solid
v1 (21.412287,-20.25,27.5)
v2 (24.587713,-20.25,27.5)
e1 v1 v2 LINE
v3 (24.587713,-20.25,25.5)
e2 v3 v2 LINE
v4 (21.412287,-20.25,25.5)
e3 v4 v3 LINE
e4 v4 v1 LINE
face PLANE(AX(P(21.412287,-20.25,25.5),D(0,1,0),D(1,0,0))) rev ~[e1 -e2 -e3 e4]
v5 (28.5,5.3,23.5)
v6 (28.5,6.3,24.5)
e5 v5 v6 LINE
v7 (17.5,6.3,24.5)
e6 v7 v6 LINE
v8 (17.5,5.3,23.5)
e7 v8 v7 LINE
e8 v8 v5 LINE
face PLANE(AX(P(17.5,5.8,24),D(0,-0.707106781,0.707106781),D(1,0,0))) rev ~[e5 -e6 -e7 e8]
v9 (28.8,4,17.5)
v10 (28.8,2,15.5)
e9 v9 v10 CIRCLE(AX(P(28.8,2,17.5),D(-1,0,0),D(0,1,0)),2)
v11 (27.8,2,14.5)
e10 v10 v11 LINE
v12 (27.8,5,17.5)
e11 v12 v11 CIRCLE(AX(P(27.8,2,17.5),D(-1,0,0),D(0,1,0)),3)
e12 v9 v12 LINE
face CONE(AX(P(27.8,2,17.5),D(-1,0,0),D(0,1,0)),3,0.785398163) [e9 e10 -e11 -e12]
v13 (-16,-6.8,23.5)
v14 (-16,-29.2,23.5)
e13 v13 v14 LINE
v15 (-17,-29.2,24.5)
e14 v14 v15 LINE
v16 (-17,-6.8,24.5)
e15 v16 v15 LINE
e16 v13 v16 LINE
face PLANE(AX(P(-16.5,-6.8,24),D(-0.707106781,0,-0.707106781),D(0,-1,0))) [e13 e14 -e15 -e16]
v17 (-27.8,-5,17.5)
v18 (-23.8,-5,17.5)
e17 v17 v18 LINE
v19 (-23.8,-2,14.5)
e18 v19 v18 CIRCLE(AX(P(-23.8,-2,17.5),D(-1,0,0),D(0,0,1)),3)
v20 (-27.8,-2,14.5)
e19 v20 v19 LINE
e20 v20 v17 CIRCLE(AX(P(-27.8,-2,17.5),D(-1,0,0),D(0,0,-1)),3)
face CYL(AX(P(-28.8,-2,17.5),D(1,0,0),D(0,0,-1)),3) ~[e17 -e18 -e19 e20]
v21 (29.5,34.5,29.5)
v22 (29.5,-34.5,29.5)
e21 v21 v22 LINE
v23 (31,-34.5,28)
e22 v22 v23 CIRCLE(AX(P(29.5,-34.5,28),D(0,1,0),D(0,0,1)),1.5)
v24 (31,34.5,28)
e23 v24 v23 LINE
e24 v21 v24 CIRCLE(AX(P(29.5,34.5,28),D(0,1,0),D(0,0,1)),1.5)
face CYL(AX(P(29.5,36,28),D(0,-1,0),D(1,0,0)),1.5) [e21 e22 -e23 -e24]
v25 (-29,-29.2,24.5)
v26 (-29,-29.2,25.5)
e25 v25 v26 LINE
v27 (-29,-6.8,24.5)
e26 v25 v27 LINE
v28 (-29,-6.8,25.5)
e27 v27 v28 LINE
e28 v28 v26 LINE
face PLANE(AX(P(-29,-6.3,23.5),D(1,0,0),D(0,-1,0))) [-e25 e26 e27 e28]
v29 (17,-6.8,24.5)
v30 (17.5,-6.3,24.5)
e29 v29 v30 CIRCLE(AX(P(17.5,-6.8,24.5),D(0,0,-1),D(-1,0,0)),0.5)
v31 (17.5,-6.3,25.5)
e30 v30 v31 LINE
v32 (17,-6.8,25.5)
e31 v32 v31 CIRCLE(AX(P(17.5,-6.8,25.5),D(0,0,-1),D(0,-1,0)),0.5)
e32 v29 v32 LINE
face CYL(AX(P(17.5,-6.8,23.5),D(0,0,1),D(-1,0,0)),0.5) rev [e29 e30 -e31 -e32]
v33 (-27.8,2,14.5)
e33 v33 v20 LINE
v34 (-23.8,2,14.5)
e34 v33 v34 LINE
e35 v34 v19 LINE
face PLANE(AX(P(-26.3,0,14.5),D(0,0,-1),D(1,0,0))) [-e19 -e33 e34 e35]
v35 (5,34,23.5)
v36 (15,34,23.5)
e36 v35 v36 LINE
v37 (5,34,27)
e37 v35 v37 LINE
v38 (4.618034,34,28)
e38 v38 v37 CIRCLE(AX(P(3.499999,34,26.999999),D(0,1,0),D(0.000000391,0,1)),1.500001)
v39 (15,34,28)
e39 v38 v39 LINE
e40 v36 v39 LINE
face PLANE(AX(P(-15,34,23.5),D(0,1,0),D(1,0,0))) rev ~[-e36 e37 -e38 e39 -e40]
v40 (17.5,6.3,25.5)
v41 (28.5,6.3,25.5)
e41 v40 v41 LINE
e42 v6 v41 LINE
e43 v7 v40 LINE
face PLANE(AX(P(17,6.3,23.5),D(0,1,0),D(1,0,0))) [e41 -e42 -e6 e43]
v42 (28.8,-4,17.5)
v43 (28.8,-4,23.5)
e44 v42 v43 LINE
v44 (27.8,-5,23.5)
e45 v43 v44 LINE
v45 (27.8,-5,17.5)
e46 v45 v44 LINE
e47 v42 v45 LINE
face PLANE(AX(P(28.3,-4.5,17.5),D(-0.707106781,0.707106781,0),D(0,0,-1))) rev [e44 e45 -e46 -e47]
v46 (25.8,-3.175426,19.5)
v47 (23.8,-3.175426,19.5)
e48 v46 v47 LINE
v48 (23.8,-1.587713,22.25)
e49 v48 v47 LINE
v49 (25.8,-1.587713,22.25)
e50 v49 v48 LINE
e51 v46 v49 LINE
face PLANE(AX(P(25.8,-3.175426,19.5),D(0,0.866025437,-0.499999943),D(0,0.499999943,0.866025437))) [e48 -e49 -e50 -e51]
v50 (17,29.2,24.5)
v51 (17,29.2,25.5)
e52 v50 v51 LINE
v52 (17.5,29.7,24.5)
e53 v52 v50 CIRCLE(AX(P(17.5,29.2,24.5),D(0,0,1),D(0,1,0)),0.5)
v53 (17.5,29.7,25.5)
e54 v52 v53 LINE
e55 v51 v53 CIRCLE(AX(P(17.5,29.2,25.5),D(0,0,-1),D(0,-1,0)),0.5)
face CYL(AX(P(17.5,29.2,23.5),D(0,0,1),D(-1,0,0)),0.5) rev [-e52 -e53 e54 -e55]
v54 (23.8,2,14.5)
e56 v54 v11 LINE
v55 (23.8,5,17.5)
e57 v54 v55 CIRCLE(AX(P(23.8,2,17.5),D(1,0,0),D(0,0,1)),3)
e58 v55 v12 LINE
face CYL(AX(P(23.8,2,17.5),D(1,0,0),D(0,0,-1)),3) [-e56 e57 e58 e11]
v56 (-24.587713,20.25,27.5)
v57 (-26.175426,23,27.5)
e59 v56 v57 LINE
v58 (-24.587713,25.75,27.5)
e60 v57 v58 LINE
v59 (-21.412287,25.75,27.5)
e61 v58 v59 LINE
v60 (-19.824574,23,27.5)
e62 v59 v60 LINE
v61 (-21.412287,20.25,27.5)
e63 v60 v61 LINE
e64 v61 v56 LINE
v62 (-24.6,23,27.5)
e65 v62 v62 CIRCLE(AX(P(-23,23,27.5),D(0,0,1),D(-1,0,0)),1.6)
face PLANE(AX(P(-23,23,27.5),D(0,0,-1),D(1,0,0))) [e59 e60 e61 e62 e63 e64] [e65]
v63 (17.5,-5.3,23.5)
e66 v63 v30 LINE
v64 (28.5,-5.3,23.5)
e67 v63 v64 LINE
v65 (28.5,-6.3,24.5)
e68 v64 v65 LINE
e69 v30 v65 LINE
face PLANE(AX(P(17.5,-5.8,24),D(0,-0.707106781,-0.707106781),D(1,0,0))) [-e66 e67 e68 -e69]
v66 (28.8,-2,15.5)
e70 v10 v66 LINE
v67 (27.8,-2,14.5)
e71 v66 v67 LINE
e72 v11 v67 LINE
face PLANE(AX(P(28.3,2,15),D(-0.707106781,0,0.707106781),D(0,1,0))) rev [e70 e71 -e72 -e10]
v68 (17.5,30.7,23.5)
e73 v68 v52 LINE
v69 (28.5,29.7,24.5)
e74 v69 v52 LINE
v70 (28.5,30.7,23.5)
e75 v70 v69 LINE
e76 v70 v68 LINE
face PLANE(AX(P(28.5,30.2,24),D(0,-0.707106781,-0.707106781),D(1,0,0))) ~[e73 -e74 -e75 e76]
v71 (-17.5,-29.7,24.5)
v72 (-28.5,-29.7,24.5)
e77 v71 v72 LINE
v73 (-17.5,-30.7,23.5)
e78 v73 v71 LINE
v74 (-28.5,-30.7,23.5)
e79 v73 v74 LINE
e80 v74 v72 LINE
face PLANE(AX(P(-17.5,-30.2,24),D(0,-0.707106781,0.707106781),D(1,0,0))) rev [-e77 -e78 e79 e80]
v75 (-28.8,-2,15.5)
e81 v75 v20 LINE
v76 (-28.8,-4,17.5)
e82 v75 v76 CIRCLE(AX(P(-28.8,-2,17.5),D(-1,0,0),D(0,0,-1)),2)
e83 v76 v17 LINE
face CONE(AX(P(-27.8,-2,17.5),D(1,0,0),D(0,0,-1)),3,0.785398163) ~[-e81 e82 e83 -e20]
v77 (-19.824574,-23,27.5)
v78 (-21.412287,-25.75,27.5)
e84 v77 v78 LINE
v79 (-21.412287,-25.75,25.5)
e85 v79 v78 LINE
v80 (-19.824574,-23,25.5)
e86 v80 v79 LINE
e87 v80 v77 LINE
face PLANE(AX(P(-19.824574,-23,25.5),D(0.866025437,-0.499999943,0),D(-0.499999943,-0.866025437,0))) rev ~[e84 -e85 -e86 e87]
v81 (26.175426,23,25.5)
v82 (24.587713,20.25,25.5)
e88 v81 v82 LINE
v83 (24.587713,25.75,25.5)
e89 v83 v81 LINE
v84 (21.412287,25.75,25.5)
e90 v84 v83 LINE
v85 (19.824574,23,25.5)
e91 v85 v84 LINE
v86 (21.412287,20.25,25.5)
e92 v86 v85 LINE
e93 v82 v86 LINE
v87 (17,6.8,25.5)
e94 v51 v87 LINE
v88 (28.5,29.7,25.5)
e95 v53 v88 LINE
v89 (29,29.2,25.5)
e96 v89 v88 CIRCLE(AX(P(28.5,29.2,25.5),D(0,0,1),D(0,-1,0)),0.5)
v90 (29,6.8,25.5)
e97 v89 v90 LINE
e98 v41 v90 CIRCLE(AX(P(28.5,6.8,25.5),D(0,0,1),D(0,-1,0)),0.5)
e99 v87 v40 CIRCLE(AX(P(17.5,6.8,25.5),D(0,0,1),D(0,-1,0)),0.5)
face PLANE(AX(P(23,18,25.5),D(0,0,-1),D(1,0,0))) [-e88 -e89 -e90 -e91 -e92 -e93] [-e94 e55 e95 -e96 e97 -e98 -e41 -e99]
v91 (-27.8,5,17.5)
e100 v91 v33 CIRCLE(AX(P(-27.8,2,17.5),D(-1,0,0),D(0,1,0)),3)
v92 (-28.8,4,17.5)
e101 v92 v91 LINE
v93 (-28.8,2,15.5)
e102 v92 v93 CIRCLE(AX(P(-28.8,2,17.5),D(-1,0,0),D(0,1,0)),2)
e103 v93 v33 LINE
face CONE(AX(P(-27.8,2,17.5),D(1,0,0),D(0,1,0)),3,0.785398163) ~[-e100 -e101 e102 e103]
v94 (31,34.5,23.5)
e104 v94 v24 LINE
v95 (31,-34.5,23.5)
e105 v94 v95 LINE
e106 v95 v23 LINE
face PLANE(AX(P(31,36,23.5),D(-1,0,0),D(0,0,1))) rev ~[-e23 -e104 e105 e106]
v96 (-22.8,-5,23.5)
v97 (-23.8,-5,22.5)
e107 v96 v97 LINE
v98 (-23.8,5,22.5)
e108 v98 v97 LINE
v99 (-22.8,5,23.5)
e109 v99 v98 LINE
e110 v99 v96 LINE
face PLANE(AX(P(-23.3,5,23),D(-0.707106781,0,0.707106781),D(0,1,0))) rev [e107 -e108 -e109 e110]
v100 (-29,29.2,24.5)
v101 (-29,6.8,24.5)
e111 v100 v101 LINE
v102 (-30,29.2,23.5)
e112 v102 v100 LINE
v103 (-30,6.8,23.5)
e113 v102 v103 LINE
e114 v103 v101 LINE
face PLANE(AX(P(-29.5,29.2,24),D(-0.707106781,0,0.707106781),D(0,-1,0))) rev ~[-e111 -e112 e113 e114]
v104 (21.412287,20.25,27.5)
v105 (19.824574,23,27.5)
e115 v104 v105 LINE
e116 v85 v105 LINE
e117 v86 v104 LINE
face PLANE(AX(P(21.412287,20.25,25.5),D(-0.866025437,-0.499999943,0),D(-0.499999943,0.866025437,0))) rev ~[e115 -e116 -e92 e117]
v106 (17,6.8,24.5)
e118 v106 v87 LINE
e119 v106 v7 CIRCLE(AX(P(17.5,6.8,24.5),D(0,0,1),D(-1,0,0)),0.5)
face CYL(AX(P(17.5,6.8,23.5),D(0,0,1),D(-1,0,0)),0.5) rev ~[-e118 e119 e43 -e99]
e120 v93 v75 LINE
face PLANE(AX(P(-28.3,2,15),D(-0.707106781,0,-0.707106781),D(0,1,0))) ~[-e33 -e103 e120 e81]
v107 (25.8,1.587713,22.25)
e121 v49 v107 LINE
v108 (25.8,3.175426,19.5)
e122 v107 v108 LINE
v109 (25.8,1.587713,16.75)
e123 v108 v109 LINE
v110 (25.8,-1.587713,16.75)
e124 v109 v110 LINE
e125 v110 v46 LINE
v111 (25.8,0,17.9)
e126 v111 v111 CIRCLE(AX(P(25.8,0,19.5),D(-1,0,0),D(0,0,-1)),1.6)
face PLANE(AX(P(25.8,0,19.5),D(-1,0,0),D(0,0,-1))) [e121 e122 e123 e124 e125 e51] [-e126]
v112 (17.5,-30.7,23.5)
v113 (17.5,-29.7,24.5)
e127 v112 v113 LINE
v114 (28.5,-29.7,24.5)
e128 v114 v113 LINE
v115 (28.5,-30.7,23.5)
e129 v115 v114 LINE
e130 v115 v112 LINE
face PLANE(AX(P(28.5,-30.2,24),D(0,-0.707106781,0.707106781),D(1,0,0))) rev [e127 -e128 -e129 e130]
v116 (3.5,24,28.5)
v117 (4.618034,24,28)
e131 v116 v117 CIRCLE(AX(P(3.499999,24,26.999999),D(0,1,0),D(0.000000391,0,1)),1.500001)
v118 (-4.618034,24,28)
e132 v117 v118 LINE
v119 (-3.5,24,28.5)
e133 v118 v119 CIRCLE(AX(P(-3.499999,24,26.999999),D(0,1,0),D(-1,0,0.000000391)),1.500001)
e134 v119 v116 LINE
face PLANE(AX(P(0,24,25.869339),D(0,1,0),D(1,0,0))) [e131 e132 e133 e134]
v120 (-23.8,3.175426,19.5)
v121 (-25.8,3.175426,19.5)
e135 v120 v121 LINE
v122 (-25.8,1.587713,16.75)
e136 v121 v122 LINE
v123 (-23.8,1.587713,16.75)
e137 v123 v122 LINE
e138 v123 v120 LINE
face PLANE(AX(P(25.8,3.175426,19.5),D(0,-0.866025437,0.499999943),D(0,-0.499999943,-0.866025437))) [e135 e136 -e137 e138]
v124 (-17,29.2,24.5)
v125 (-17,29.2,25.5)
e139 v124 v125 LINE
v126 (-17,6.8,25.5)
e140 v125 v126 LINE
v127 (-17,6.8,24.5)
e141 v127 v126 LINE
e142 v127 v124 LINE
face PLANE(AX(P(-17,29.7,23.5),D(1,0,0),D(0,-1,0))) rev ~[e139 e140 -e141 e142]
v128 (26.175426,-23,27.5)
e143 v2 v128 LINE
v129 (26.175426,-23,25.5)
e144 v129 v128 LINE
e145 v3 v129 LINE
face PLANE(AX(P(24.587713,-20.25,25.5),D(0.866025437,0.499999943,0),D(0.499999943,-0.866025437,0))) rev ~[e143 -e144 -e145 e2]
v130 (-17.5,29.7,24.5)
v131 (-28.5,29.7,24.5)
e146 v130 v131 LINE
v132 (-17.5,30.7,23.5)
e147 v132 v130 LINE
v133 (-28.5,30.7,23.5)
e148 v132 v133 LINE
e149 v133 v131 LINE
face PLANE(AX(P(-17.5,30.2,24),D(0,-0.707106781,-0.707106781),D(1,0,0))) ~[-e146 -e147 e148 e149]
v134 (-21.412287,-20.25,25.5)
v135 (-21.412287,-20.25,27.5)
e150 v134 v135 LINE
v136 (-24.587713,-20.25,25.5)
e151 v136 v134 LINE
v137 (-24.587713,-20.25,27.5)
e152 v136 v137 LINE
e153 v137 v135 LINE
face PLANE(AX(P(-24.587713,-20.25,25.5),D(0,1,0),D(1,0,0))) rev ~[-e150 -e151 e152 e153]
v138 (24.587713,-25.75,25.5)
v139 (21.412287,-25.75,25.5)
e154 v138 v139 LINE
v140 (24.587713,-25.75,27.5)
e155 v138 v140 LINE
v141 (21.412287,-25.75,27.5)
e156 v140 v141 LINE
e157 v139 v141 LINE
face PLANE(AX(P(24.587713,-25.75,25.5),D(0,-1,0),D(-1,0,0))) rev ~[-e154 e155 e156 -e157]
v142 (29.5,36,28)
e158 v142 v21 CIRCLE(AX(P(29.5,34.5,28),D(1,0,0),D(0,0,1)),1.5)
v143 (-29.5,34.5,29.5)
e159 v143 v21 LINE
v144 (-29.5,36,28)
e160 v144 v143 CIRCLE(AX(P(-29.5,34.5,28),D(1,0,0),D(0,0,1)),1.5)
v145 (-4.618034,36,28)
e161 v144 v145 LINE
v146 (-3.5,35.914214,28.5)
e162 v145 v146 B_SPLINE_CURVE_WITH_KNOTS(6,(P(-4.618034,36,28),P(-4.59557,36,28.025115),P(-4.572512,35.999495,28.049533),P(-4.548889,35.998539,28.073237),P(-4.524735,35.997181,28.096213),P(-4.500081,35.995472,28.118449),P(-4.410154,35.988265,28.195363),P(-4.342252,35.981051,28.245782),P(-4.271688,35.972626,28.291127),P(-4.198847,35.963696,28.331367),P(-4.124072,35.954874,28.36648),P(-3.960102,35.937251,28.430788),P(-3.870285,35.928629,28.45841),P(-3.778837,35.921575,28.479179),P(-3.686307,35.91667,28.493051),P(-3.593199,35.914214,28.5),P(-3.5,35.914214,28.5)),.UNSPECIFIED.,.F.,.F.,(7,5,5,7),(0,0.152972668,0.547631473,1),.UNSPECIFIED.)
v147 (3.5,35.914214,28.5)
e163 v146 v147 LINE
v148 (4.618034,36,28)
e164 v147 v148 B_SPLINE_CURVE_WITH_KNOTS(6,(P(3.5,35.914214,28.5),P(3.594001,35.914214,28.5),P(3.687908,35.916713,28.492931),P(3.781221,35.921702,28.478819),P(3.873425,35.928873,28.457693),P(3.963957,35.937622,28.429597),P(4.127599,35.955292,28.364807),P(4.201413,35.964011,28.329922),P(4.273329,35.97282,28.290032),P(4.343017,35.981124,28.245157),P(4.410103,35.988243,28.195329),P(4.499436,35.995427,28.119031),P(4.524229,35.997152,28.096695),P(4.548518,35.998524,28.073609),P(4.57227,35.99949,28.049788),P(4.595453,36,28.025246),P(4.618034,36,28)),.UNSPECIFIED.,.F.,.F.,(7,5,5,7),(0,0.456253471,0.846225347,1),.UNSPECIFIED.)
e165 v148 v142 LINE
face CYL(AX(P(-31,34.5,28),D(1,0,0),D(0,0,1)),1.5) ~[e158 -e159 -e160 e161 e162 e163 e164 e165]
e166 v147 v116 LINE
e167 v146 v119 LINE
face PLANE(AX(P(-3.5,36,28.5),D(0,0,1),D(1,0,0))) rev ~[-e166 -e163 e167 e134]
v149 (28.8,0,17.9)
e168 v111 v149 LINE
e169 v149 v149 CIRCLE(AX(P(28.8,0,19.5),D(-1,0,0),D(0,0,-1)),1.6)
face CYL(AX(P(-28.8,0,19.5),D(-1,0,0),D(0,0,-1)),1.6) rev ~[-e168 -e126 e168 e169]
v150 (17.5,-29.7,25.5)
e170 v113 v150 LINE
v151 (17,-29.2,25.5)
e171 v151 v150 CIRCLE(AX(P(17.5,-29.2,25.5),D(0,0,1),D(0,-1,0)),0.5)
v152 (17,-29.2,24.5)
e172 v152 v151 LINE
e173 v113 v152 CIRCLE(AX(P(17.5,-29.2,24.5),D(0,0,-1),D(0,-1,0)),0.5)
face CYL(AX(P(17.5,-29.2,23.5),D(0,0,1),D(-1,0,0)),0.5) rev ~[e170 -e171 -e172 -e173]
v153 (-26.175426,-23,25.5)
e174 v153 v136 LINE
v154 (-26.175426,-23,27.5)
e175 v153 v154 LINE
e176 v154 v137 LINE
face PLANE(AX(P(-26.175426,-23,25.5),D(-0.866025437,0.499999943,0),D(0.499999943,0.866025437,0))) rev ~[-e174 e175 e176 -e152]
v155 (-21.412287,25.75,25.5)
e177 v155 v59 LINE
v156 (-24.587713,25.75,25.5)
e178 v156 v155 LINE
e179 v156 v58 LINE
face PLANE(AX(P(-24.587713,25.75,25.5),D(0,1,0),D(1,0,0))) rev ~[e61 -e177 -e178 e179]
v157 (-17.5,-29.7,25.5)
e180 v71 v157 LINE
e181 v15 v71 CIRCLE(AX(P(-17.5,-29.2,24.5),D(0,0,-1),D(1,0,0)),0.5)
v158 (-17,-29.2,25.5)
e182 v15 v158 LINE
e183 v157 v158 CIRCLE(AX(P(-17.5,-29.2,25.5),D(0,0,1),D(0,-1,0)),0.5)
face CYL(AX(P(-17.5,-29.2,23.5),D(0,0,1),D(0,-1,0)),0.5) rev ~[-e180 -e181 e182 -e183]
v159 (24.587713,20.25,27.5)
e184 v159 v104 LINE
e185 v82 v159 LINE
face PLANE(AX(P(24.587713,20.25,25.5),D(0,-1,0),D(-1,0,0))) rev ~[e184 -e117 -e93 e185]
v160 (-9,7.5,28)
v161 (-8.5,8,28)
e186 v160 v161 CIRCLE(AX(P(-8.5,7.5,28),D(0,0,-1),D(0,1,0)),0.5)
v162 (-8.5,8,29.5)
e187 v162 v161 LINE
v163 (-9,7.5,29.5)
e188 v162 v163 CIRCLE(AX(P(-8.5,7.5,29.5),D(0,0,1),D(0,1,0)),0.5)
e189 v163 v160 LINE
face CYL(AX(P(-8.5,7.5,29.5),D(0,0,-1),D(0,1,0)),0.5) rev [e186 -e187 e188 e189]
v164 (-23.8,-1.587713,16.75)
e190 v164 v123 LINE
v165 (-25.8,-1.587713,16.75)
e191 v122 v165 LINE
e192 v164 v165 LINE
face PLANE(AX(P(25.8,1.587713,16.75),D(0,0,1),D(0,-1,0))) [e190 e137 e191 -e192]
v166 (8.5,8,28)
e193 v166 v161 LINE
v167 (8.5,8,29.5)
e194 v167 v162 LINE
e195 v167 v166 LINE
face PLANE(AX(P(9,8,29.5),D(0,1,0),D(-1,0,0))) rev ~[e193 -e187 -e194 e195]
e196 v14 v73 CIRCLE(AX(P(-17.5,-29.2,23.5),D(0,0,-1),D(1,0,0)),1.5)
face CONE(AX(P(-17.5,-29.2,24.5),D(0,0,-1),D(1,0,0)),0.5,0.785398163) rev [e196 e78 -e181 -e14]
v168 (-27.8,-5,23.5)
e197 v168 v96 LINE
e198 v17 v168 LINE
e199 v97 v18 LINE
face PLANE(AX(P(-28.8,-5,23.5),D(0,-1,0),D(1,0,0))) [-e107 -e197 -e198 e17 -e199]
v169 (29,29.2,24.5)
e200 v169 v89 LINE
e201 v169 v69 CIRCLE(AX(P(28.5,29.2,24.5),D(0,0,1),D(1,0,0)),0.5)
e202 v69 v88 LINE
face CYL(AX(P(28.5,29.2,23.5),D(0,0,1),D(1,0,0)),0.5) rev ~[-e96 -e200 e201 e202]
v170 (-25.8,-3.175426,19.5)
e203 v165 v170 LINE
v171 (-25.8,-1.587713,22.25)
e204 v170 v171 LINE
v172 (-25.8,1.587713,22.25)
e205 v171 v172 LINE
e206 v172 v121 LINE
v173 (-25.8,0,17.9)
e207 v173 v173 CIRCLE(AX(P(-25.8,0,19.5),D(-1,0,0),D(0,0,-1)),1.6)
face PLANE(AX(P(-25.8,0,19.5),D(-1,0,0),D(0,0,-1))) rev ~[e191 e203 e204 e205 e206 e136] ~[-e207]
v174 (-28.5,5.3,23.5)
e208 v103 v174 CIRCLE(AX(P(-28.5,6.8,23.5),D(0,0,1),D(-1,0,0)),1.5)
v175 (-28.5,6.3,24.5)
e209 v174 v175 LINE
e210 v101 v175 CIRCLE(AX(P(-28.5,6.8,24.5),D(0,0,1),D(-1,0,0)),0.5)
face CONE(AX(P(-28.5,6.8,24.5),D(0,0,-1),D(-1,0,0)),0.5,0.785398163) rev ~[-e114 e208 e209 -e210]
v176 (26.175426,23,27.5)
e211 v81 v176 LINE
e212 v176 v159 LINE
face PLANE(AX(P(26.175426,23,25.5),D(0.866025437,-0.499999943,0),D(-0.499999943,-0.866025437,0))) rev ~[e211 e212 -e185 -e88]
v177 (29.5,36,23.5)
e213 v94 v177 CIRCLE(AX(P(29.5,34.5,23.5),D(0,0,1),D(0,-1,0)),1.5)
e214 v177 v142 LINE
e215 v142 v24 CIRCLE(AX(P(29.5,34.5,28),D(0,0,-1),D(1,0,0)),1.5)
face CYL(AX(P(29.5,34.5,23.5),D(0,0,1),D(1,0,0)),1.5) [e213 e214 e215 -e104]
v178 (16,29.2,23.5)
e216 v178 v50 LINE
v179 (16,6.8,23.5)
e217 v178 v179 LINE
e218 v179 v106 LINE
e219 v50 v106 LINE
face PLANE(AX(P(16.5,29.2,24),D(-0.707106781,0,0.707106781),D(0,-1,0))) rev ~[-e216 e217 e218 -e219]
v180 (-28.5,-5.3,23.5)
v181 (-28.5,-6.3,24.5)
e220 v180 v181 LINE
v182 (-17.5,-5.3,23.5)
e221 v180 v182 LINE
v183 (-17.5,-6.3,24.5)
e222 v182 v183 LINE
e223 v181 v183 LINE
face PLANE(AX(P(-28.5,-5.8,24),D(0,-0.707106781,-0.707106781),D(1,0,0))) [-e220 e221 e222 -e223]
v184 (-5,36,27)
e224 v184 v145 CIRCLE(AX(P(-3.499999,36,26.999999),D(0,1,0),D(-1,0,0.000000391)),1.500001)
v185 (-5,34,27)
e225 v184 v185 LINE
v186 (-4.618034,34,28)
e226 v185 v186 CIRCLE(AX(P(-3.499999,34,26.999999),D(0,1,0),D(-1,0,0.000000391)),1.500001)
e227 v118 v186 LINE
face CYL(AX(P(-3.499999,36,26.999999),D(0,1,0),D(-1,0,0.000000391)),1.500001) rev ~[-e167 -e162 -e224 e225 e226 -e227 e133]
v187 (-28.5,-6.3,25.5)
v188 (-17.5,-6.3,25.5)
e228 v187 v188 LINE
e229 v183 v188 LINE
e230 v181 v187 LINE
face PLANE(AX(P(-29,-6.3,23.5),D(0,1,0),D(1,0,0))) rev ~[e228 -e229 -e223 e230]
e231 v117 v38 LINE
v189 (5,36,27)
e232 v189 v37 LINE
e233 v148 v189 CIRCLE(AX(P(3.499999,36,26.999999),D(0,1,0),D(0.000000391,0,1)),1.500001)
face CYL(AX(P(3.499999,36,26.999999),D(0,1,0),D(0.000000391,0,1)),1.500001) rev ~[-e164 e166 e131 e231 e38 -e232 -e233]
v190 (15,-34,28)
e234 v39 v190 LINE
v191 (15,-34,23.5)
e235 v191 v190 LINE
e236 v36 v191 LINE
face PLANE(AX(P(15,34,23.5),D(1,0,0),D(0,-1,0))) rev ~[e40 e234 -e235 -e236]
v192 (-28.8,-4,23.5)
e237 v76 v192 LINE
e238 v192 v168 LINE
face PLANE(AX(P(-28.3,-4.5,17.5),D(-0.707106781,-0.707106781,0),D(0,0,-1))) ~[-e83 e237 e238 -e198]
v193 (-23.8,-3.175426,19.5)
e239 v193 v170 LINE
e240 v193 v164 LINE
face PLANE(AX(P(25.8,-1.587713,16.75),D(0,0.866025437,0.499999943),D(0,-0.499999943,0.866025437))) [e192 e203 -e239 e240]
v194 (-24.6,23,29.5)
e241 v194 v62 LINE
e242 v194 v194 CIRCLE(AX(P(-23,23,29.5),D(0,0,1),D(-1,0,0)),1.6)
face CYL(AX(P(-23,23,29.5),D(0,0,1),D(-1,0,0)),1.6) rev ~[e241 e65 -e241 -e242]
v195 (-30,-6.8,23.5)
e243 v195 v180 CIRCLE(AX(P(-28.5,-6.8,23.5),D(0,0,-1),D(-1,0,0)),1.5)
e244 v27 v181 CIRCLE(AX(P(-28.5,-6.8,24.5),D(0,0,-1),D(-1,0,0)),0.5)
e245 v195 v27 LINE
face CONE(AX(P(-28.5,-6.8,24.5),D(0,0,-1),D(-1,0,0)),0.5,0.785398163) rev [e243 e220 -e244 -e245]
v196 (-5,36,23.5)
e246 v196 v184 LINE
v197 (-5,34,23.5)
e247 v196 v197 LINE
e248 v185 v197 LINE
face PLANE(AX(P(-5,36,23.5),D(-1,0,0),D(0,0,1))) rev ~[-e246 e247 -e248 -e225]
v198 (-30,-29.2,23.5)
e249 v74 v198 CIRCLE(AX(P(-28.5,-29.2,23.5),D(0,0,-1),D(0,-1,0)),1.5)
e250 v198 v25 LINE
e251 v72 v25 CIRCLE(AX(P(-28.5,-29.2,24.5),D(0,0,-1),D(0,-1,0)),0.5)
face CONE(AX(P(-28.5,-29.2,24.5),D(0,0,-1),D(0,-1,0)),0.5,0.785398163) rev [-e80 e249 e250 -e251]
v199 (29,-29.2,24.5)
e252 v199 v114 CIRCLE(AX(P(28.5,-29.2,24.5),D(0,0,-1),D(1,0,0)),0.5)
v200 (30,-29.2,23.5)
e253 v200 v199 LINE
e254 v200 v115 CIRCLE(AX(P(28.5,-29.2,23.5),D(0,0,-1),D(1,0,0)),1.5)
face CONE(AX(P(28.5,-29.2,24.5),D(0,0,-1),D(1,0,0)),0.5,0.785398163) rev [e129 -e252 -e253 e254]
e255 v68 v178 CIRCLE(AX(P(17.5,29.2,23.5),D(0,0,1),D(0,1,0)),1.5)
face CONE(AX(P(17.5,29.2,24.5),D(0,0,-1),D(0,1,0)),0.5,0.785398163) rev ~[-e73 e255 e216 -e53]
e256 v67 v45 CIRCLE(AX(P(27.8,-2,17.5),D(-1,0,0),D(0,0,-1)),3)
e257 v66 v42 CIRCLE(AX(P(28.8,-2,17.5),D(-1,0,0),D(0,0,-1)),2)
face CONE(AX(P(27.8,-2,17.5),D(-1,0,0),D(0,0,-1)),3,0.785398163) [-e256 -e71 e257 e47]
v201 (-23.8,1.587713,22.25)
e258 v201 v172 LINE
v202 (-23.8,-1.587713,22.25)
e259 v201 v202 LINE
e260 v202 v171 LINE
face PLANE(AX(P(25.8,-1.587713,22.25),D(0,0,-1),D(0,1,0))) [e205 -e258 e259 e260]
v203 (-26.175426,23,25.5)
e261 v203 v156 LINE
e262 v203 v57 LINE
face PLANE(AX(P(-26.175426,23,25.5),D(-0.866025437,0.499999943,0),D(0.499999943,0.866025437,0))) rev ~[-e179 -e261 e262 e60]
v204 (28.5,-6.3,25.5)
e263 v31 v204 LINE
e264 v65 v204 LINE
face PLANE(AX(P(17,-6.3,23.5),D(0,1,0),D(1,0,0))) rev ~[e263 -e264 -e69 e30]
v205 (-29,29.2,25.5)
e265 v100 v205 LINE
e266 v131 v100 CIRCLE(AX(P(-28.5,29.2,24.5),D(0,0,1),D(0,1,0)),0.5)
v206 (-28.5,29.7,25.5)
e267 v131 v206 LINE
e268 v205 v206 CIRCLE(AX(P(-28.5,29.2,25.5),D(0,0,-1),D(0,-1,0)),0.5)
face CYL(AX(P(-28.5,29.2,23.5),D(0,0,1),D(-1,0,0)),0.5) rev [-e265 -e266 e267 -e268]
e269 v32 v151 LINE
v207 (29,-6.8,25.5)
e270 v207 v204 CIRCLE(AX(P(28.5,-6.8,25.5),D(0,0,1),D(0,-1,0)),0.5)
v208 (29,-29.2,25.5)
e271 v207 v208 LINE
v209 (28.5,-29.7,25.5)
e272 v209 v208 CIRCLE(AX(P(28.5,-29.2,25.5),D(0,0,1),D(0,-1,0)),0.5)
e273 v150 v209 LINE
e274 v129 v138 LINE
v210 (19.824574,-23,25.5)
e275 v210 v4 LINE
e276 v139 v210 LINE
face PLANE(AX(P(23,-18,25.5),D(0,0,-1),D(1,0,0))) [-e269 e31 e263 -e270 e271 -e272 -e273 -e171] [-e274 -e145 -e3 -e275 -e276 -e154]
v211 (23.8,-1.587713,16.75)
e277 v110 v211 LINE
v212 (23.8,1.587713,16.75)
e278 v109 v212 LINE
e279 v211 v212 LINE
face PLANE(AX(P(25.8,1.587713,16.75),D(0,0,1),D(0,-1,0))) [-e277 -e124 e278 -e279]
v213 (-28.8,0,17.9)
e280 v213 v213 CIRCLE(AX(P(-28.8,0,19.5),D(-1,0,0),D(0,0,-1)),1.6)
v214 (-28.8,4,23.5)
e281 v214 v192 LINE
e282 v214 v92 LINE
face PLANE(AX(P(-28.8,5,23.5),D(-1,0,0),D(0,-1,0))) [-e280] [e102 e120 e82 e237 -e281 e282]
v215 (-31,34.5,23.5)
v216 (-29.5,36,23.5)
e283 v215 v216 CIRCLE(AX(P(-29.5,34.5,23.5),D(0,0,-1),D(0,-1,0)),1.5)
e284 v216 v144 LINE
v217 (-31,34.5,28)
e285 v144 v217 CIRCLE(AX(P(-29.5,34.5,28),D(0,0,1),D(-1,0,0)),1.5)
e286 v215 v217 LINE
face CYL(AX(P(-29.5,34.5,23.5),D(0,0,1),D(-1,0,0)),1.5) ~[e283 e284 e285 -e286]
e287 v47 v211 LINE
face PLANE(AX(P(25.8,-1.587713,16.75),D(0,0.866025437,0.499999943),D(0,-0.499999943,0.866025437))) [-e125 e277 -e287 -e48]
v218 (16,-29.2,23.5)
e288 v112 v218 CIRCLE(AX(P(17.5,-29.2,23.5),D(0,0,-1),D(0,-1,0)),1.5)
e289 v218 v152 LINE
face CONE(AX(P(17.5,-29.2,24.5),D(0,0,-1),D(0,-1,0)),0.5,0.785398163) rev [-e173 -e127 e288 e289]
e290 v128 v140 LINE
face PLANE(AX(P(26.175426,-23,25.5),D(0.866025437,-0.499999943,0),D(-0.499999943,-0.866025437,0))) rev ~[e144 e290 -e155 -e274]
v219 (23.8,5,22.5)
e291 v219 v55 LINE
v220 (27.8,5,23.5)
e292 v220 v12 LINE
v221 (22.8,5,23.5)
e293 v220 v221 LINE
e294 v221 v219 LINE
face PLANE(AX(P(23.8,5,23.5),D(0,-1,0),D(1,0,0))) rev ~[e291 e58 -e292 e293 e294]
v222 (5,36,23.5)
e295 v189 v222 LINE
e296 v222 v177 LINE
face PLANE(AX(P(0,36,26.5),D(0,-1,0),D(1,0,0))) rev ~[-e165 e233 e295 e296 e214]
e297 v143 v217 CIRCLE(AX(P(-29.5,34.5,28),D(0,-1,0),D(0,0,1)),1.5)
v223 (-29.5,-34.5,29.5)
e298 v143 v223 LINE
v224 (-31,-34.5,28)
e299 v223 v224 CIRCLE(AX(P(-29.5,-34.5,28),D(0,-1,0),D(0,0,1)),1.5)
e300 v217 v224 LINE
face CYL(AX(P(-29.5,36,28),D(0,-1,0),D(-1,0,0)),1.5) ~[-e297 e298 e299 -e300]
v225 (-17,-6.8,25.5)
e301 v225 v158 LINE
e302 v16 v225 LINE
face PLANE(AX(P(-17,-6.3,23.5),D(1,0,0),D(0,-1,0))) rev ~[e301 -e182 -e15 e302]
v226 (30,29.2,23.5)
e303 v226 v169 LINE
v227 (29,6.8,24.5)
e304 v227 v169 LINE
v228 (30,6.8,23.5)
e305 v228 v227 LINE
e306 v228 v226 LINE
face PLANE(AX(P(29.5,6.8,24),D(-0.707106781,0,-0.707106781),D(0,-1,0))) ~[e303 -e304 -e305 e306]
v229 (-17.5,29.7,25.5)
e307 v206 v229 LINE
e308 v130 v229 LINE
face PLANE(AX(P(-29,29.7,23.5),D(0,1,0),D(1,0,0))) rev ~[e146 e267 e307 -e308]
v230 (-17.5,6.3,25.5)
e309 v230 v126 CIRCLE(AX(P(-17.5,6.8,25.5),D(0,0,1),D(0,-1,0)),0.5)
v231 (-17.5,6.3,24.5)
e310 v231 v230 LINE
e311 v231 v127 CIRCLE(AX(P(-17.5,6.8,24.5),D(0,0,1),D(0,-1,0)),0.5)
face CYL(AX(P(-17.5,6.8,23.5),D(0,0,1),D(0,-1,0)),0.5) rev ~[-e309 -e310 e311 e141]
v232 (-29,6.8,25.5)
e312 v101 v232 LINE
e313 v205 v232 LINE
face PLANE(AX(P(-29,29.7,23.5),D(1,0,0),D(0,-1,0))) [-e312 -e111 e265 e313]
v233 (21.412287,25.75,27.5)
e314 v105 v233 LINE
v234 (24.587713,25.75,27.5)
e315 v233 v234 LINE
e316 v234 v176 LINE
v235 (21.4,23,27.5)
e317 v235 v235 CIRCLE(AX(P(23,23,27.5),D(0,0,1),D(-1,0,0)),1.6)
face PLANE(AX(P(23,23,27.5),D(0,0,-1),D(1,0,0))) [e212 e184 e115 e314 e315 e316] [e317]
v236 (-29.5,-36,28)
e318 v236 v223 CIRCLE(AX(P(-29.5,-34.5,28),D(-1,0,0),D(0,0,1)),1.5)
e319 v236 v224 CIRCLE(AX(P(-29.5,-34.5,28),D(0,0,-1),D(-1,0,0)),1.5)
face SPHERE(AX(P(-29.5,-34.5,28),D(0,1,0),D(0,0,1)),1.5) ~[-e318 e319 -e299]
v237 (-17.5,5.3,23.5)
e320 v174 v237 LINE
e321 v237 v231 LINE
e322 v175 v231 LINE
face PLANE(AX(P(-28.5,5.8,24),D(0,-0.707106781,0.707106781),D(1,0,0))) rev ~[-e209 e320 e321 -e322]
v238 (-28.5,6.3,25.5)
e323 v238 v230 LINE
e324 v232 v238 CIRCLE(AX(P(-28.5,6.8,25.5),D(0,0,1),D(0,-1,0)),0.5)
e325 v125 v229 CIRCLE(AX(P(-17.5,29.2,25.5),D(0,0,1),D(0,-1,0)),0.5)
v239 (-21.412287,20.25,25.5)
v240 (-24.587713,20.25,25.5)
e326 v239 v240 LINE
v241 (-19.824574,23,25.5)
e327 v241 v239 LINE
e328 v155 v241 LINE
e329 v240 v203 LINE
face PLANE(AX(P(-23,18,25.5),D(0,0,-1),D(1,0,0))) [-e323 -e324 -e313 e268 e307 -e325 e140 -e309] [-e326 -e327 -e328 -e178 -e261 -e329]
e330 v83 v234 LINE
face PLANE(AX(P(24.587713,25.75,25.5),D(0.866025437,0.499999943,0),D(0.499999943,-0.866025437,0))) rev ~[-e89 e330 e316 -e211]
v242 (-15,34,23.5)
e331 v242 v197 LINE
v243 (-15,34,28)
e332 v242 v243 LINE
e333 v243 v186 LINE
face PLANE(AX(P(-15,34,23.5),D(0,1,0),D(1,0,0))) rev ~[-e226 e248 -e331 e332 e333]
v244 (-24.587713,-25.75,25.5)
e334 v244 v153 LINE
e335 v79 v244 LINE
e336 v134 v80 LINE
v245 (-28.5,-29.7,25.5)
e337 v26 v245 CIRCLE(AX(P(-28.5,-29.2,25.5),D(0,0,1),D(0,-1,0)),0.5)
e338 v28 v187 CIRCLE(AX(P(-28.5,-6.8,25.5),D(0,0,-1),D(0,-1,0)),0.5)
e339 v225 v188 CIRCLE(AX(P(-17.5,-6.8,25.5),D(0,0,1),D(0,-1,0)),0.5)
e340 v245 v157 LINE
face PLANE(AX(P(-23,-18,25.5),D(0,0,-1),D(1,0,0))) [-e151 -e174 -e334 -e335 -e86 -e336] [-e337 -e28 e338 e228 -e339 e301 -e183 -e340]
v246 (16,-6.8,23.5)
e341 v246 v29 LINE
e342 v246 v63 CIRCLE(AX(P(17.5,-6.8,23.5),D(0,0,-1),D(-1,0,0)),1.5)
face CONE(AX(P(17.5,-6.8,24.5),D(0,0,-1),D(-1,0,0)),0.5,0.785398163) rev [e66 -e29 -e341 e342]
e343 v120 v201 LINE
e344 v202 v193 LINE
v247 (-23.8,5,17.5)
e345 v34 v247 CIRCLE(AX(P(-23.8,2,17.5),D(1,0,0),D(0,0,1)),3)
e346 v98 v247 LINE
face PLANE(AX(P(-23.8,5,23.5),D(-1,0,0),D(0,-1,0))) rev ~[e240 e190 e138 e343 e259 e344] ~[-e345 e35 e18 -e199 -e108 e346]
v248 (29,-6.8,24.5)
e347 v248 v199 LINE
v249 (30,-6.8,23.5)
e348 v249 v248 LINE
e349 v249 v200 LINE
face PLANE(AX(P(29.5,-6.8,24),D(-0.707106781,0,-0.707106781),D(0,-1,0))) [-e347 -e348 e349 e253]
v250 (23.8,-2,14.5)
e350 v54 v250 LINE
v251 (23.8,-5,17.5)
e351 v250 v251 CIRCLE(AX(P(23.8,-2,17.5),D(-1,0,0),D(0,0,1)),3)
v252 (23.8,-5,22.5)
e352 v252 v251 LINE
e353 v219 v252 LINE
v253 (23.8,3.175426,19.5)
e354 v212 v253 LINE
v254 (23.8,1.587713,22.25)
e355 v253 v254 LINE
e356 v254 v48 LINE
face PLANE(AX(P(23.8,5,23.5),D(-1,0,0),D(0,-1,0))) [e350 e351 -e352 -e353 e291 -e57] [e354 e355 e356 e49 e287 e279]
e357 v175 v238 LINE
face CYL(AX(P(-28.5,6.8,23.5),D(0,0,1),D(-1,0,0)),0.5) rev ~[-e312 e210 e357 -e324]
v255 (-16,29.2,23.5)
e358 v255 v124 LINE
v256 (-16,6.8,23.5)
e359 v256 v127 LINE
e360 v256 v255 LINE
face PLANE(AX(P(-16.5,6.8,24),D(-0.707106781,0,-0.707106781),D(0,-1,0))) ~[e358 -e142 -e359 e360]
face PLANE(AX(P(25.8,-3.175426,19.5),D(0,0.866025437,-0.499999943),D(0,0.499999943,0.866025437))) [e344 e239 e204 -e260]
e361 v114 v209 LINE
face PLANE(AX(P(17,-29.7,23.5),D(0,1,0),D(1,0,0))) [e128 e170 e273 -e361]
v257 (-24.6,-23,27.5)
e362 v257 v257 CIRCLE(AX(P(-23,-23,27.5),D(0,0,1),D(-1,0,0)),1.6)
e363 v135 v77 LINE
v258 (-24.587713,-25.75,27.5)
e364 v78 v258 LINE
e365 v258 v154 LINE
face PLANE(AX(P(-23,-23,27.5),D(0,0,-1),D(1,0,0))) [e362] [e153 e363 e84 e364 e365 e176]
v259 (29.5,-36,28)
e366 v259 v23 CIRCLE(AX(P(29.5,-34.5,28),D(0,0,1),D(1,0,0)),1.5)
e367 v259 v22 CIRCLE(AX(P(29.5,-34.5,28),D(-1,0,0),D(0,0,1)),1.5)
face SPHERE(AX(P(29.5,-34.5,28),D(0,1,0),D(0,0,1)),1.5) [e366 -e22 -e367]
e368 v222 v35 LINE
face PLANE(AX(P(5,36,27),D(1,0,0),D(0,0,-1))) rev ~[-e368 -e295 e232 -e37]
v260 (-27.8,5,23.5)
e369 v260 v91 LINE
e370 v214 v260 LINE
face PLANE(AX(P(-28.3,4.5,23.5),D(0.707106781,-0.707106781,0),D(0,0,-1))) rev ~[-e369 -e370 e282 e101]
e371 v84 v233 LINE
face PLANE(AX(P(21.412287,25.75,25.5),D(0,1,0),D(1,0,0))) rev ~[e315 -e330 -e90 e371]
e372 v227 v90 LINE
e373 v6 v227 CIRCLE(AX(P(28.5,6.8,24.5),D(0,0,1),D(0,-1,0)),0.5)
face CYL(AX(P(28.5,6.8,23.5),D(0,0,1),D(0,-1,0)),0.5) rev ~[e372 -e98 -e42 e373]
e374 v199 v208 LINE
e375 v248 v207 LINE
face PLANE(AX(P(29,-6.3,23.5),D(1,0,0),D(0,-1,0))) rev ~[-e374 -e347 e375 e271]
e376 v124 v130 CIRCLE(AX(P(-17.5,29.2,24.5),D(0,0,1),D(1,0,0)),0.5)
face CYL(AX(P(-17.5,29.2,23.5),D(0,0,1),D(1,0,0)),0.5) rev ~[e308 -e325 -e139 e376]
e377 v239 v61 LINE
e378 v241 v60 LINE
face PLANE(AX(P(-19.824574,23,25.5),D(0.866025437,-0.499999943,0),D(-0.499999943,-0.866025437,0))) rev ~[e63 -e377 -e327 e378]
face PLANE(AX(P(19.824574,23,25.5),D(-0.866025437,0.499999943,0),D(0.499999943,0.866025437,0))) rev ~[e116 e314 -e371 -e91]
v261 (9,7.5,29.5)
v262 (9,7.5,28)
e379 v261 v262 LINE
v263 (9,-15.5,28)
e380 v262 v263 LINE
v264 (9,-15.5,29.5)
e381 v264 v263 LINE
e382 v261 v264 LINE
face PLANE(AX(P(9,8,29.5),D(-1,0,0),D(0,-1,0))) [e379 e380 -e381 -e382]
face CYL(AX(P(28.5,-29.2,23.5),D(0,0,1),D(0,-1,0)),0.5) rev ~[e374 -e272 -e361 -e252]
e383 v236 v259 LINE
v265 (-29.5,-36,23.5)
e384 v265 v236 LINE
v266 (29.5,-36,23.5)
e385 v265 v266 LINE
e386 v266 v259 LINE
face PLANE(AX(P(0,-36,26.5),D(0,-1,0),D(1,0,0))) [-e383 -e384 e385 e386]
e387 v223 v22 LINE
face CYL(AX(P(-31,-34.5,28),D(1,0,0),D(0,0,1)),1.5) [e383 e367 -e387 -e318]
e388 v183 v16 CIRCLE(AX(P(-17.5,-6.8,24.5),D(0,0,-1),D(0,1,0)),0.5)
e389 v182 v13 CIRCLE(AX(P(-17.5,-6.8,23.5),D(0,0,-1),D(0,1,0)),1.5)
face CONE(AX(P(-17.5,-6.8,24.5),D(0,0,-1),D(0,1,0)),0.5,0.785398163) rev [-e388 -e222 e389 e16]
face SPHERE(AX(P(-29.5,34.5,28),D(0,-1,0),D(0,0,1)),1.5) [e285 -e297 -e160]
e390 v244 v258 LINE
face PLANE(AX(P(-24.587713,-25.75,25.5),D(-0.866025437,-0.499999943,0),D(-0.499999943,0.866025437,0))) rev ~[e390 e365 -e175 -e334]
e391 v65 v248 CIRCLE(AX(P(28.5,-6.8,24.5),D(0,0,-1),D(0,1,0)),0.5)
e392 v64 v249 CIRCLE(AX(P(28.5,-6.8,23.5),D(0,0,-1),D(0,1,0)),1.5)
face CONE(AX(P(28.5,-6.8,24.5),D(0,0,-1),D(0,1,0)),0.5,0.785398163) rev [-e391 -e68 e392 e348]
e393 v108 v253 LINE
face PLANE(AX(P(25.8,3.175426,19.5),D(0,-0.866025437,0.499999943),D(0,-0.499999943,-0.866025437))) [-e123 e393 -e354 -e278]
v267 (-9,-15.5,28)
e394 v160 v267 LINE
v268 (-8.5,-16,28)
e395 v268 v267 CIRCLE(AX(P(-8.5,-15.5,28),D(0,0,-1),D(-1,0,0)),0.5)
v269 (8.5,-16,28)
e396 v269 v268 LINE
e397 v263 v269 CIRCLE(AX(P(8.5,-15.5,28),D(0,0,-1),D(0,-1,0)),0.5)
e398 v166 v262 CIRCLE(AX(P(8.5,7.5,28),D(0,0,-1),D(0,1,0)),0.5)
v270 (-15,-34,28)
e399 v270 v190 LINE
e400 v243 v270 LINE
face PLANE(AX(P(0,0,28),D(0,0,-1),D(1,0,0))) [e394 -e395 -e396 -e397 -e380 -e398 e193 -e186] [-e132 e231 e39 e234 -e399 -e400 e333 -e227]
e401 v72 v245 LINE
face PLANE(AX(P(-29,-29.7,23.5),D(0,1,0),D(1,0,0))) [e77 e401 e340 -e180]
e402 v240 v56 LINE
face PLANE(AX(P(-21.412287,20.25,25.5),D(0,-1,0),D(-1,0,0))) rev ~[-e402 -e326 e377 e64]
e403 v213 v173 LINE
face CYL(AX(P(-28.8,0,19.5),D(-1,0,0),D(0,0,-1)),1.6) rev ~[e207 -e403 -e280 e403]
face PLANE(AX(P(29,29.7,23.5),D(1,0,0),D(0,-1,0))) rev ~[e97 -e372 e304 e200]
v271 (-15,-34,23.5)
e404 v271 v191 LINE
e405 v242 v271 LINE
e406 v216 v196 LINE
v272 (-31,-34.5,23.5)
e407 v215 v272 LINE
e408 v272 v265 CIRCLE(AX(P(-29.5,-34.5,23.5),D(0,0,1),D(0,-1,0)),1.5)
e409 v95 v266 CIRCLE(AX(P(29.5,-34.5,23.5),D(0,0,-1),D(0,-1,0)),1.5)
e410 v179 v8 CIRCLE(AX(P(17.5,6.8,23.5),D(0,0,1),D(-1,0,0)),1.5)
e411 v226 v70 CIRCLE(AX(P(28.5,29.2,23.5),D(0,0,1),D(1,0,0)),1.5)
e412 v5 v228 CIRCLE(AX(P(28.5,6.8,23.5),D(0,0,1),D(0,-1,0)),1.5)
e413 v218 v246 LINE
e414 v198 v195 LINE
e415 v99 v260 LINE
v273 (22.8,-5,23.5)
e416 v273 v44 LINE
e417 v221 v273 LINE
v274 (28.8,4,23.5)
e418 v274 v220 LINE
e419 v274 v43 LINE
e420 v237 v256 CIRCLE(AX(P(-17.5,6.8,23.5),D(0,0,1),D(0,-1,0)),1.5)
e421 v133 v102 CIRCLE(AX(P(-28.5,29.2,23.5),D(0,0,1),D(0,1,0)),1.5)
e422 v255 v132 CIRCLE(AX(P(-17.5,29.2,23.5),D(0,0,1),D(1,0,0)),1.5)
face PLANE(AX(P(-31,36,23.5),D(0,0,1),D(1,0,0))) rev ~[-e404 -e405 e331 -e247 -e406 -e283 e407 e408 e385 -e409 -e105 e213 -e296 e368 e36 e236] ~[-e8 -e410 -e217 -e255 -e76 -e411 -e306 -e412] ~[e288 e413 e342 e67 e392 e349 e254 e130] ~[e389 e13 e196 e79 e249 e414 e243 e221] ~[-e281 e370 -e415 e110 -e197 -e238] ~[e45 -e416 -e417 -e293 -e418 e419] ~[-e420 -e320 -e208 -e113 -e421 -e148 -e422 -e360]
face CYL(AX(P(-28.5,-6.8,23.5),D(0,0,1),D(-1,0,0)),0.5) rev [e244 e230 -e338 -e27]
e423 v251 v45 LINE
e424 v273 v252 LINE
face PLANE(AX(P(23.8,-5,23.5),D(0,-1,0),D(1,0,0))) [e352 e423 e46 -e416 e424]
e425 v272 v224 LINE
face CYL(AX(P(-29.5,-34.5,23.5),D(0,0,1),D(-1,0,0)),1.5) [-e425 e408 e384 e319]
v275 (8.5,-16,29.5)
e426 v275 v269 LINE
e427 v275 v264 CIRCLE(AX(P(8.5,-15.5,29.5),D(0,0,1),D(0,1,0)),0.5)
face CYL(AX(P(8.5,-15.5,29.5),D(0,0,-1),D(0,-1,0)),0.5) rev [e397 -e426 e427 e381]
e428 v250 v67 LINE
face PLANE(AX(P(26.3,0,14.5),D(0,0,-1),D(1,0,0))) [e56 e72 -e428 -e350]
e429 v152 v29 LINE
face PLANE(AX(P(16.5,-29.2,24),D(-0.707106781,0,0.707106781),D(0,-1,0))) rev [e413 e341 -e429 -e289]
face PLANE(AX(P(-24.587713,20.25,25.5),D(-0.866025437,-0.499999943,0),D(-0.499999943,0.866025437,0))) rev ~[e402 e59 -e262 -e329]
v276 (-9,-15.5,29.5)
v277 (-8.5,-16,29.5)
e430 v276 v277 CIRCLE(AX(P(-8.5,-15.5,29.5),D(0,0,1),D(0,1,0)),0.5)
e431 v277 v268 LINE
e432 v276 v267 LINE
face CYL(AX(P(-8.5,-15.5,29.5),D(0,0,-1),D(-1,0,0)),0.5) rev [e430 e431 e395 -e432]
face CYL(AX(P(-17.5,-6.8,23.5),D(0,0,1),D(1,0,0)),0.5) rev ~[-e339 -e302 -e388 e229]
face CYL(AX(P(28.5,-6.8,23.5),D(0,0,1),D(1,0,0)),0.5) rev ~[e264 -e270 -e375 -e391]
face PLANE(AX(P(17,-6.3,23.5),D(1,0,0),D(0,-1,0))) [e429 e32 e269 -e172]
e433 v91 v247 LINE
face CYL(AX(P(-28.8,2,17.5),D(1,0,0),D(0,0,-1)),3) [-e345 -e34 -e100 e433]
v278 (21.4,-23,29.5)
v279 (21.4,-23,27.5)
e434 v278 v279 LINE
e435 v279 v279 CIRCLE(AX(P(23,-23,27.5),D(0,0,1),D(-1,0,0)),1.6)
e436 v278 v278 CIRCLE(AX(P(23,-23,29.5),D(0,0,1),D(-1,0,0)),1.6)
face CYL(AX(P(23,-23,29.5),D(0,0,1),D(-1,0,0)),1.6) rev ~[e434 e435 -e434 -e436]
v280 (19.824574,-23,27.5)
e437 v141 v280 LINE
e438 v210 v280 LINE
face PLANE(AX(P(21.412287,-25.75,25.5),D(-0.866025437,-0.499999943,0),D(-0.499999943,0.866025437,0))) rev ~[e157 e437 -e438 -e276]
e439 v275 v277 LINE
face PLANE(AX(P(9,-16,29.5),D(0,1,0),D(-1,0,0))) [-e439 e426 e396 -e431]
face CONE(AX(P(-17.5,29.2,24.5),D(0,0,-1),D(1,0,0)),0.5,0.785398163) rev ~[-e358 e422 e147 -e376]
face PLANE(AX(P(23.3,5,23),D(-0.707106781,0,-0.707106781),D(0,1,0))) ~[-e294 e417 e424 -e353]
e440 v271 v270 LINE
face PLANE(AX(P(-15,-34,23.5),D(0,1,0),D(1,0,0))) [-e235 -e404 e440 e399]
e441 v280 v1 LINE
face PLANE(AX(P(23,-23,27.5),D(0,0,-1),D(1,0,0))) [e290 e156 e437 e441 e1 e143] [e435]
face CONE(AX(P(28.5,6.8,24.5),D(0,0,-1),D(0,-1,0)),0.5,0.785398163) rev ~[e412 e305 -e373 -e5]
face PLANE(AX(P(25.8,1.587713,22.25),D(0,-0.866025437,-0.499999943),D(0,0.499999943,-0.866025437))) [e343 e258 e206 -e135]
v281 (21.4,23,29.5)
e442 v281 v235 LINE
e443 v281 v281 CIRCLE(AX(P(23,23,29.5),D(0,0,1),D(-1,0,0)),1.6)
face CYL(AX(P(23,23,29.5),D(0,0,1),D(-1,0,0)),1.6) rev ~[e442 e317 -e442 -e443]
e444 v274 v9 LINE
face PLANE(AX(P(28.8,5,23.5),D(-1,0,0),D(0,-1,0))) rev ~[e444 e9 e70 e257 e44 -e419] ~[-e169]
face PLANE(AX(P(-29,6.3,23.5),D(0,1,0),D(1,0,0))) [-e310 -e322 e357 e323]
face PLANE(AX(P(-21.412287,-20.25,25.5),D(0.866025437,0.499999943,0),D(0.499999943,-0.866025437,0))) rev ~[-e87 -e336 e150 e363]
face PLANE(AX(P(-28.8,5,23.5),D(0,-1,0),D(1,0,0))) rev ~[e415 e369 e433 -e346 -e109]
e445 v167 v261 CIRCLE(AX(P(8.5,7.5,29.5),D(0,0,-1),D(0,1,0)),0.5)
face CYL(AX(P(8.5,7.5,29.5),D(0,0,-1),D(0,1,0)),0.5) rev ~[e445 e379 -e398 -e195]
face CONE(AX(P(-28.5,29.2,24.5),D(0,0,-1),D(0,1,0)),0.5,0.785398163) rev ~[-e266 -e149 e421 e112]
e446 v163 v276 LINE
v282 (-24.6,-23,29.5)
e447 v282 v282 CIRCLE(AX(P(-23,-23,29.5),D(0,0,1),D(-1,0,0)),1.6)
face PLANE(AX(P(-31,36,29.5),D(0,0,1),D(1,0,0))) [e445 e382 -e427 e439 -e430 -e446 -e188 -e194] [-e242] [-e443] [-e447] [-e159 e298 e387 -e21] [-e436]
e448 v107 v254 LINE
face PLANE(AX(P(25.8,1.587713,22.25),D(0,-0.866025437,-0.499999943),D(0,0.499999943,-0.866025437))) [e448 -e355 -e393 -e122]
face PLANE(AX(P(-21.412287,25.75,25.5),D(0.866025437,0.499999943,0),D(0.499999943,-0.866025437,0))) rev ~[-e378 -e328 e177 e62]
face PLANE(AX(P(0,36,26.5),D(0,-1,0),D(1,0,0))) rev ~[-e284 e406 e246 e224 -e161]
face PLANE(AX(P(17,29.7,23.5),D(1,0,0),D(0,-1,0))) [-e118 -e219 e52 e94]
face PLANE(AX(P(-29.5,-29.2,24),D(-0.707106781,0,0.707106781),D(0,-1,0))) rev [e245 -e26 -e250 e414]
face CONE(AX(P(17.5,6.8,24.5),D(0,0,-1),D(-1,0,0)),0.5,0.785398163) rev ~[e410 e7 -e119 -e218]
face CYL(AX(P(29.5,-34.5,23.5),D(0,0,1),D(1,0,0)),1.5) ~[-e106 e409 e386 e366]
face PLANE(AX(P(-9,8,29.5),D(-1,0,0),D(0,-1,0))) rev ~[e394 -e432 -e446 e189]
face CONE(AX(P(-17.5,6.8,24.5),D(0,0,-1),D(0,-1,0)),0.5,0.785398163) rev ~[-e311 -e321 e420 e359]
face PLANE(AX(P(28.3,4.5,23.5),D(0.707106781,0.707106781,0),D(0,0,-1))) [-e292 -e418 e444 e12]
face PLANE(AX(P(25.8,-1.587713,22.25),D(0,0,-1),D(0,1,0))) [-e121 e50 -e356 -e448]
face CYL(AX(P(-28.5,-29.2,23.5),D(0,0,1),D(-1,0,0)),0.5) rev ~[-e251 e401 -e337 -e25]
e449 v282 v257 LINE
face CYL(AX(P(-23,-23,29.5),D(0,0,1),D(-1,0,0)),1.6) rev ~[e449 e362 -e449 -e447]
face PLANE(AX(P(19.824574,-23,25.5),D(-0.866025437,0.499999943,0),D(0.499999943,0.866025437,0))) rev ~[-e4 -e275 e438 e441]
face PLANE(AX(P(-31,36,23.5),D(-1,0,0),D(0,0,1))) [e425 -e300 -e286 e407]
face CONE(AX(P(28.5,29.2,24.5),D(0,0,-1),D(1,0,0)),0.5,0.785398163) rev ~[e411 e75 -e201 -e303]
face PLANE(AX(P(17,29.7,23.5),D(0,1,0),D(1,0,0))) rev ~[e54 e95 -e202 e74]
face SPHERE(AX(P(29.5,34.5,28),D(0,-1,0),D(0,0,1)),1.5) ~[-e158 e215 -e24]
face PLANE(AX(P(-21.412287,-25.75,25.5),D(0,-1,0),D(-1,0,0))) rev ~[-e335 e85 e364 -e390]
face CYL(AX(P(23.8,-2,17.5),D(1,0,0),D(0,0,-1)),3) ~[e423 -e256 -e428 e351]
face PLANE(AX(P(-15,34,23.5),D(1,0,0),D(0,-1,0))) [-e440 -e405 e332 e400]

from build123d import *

# Parameters (mm, degrees)
SKETCH082_W     = 62
SKETCH082_H     = 6
PAD030_DEPTH    = 72
FILLET021_R     = 1.5
SKETCH083_W     = 12
SKETCH083_H     = 23.4
POCKET047_DEPTH = 2
FILLET022_R     = 0.5
SKETCH084_W     = 5
SKETCH084_H     = 10
PAD031_DEPTH    = 9
CHAMFER_SIZE    = 1
FILLET023_R     = 3
CHAMFER001_SIZE = 1
SKETCH085_R     = 1.6
POCKET048_DEPTH = 80
POCKET049_DEPTH = 51.6
POCKET050_DEPTH = 12
SKETCH088_W     = 18
SKETCH088_H     = 24
POCKET051_DEPTH = 16
FILLET024_R     = 0.5
SKETCH089_R     = 1.6
POCKET052_DEPTH = 10
POCKET053_DEPTH = 2
SKETCH091_W     = 30
SKETCH091_H     = 68
POCKET054_DEPTH = 4.5
CHAMFER002_SIZE = 1


with BuildPart() as part:
    # Sketch082 → Pad030 (new body)
    with BuildSketch(Plane.XZ.offset(-36)):
        with Locations((0, 25.5)):
            Rectangle(SKETCH082_W, SKETCH082_H)
    extrude(amount=PAD030_DEPTH)

    # Fillet021
    fillet021_edges = [part.edges().sort_by_distance(p)[0] for p in [
        (31, 0, 28.5),
        (-31, 0, 28.5),
        (0, 36, 28.5),
        (0, -36, 28.5),
        (31, -36, 25.5),
        (-31, -36, 25.5),
        (31, 36, 25.5),
        (-31, 36, 25.5),
    ]]
    fillet(fillet021_edges, radius=FILLET021_R)

    # Sketch083 (on Face1 of Fillet021) → Pocket047 (cut)
    with BuildSketch(Plane(origin=(0, 0, 22.5), x_dir=(1, 0, 0), z_dir=(0, 0, -1))):
        with Locations((23, 18)):
            Rectangle(SKETCH083_W, SKETCH083_H)
        with Locations((23, -18)):
            Rectangle(SKETCH083_W, SKETCH083_H)
        with Locations((-23, 18)):
            Rectangle(SKETCH083_W, SKETCH083_H)
        with Locations((-23, -18)):
            Rectangle(SKETCH083_W, SKETCH083_H)
    extrude(amount=-POCKET047_DEPTH, mode=Mode.SUBTRACT)

    # Fillet022
    fillet022_edges = [part.edges().sort_by_distance(p)[0] for p in [
        (17, 6.3, 23.5),
        (17, -6.3, 23.5),
        (29, -6.3, 23.5),
        (17, 29.7, 23.5),
        (29, 29.7, 23.5),
        (29, 6.3, 23.5),
        (17, -29.7, 23.5),
        (29, -29.7, 23.5),
        (-17, -29.7, 23.5),
        (-29, -29.7, 23.5),
        (-29, -6.3, 23.5),
        (-17, -6.3, 23.5),
        (-29, 6.3, 23.5),
        (-17, 6.3, 23.5),
        (-17, 29.7, 23.5),
        (-29, 29.7, 23.5),
    ]]
    fillet(fillet022_edges, radius=FILLET022_R)

    # Sketch084 (on Face1 of Fillet022) → Pad031 (join)
    with BuildSketch(Plane(origin=(0, 0, 22.5), x_dir=(1, 0, 0), z_dir=(0, 0, -1))):
        with Locations((26.3, 0)):
            Rectangle(SKETCH084_W, SKETCH084_H)
        with Locations((-26.3, 0)):
            Rectangle(SKETCH084_W, SKETCH084_H)
    extrude(amount=PAD031_DEPTH)

    # Chamfer
    chamfer_edges = [part.edges().sort_by_distance(p)[0] for p in [
        (23.8, 0, 22.5),
        (-23.8, 0, 22.5),
    ]]
    chamfer(chamfer_edges, length=CHAMFER_SIZE)

    # Fillet023
    fillet023_edges = [part.edges().sort_by_distance(p)[0] for p in [
        (26.3, -5, 13.5),
        (26.3, 5, 13.5),
        (-26.3, -5, 13.5),
        (-26.3, 5, 13.5),
    ]]
    fillet(fillet023_edges, radius=FILLET023_R)

    # Chamfer001
    chamfer001_edges = [part.edges().sort_by_distance(p)[0] for p in [
        (28.8, 0, 13.5),
        (-28.8, 0, 13.5),
    ]]
    chamfer(chamfer001_edges, length=CHAMFER001_SIZE)

    # Sketch085 (on Face55 of Chamfer001) → Pocket048 (cut)
    with BuildSketch(Plane(origin=(-28.8, 0, 0), x_dir=(0, 0, -1), z_dir=(-1, 0, 0))):
        with Locations((-18.5, 0)):
            Circle(SKETCH085_R)
    extrude(amount=-POCKET048_DEPTH, mode=Mode.SUBTRACT)

    # Sketch086 (on Face4 of Pocket048) → Pocket049 (cut)
    with BuildSketch(Plane(origin=(25.8, 0, 0), x_dir=(0, 0, -1), z_dir=(-1, 0, 0))):
        Polygon((-18.5, 3.175426), (-21.25, 1.587713), (-21.25, -1.587713), (-18.5, -3.175426), (-15.75, -1.587713), (-15.75, 1.587713), align=None)
    extrude(amount=POCKET049_DEPTH, mode=Mode.SUBTRACT)

    # Sketch087 (on Face22 of Pocket049) → Pocket050 (cut)
    with BuildSketch(Plane(origin=(0, 36, 0), x_dir=(1, 0, 0), z_dir=(0, 1, 0))):
        with BuildLine():
            Line((-5, -22.5), (-5, -26))
            ThreePointArc((-5, -26), (-4.56066, -27.06066), (-3.5, -27.5))
            Line((-3.5, -27.5), (3.5, -27.5))
            ThreePointArc((3.5, -27.5), (4.56066, -27.06066), (5, -26))
            Line((5, -26), (5, -22.5))
            Line((-5, -22.5), (5, -22.5))
        make_face()
    extrude(amount=-POCKET050_DEPTH, mode=Mode.SUBTRACT)

    # Sketch088 (on Face95 of Pocket050) → Pocket051 (cut)
    with BuildSketch(Plane(origin=(0, 0, 28.5), x_dir=(-1, 0, 0), z_dir=(0, 0, 1))):
        with Locations((0, 4)):
            Rectangle(SKETCH088_W, SKETCH088_H)
    extrude(amount=-POCKET051_DEPTH, mode=Mode.SUBTRACT)

    # Fillet024
    fillet024_edges = [part.edges().sort_by_distance(p)[0] for p in [
        (9, 8, 25.5),
        (9, -16, 25.5),
        (-9, -16, 25.5),
        (-9, 8, 25.5),
    ]]
    fillet(fillet024_edges, radius=FILLET024_R)

    # Sketch089 (on Face66 of Fillet024) → Pocket052 (cut)
    with BuildSketch(Plane(origin=(0, 0, 28.5), x_dir=(-1, 0, 0), z_dir=(0, 0, 1))):
        with Locations((23, 23)):
            Circle(SKETCH089_R)
        with Locations((-23, 23)):
            Circle(SKETCH089_R)
        with Locations((-23, -23)):
            Circle(SKETCH089_R)
        with Locations((23, -23)):
            Circle(SKETCH089_R)
    extrude(amount=-POCKET052_DEPTH, mode=Mode.SUBTRACT)

    # Sketch090 (on Face95 of Pocket052) → Pocket053 (cut)
    with BuildSketch(Plane(origin=(0, 0, 24.5), x_dir=(1, 0, 0), z_dir=(0, 0, -1))):
        Polygon((-21.412287, 25.75), (-24.587713, 25.75), (-26.175426, 23), (-24.587713, 20.25), (-21.412287, 20.25), (-19.824574, 23), align=None)
        Polygon((21.412287, 25.75), (19.824574, 23), (21.412287, 20.25), (24.587713, 20.25), (26.175426, 23), (24.587713, 25.75), align=None)
        Polygon((-19.824574, -23), (-21.412287, -20.25), (-24.587713, -20.25), (-26.175426, -23), (-24.587713, -25.75), (-21.412287, -25.75), align=None)
        Polygon((26.175426, -23), (24.587713, -20.25), (21.412287, -20.25), (19.824574, -23), (21.412287, -25.75), (24.587713, -25.75), align=None)
    extrude(amount=-POCKET053_DEPTH, mode=Mode.SUBTRACT)

    # Sketch091 (on Face1 of Pocket053) → Pocket054 (cut)
    with BuildSketch(Plane(origin=(0, 0, 22.5), x_dir=(1, 0, 0), z_dir=(0, 0, -1))):
        Rectangle(SKETCH091_W, SKETCH091_H)
    extrude(amount=-POCKET054_DEPTH, mode=Mode.SUBTRACT)

    # Chamfer002
    chamfer002_edges = [part.edges().sort_by_distance(p)[0] for p in [
        (-23, -6.3, 22.5),
        (-23, 6.3, 22.5),
        (23, -6.3, 22.5),
        (23, 6.3, 22.5),
    ]]
    chamfer(chamfer002_edges, length=CHAMFER002_SIZE)


with BuildPart() as part_1:
    # Body006 placement: moved
    add(part.part.moved(Location((0, 0, 1))))


solid = part_1.part
